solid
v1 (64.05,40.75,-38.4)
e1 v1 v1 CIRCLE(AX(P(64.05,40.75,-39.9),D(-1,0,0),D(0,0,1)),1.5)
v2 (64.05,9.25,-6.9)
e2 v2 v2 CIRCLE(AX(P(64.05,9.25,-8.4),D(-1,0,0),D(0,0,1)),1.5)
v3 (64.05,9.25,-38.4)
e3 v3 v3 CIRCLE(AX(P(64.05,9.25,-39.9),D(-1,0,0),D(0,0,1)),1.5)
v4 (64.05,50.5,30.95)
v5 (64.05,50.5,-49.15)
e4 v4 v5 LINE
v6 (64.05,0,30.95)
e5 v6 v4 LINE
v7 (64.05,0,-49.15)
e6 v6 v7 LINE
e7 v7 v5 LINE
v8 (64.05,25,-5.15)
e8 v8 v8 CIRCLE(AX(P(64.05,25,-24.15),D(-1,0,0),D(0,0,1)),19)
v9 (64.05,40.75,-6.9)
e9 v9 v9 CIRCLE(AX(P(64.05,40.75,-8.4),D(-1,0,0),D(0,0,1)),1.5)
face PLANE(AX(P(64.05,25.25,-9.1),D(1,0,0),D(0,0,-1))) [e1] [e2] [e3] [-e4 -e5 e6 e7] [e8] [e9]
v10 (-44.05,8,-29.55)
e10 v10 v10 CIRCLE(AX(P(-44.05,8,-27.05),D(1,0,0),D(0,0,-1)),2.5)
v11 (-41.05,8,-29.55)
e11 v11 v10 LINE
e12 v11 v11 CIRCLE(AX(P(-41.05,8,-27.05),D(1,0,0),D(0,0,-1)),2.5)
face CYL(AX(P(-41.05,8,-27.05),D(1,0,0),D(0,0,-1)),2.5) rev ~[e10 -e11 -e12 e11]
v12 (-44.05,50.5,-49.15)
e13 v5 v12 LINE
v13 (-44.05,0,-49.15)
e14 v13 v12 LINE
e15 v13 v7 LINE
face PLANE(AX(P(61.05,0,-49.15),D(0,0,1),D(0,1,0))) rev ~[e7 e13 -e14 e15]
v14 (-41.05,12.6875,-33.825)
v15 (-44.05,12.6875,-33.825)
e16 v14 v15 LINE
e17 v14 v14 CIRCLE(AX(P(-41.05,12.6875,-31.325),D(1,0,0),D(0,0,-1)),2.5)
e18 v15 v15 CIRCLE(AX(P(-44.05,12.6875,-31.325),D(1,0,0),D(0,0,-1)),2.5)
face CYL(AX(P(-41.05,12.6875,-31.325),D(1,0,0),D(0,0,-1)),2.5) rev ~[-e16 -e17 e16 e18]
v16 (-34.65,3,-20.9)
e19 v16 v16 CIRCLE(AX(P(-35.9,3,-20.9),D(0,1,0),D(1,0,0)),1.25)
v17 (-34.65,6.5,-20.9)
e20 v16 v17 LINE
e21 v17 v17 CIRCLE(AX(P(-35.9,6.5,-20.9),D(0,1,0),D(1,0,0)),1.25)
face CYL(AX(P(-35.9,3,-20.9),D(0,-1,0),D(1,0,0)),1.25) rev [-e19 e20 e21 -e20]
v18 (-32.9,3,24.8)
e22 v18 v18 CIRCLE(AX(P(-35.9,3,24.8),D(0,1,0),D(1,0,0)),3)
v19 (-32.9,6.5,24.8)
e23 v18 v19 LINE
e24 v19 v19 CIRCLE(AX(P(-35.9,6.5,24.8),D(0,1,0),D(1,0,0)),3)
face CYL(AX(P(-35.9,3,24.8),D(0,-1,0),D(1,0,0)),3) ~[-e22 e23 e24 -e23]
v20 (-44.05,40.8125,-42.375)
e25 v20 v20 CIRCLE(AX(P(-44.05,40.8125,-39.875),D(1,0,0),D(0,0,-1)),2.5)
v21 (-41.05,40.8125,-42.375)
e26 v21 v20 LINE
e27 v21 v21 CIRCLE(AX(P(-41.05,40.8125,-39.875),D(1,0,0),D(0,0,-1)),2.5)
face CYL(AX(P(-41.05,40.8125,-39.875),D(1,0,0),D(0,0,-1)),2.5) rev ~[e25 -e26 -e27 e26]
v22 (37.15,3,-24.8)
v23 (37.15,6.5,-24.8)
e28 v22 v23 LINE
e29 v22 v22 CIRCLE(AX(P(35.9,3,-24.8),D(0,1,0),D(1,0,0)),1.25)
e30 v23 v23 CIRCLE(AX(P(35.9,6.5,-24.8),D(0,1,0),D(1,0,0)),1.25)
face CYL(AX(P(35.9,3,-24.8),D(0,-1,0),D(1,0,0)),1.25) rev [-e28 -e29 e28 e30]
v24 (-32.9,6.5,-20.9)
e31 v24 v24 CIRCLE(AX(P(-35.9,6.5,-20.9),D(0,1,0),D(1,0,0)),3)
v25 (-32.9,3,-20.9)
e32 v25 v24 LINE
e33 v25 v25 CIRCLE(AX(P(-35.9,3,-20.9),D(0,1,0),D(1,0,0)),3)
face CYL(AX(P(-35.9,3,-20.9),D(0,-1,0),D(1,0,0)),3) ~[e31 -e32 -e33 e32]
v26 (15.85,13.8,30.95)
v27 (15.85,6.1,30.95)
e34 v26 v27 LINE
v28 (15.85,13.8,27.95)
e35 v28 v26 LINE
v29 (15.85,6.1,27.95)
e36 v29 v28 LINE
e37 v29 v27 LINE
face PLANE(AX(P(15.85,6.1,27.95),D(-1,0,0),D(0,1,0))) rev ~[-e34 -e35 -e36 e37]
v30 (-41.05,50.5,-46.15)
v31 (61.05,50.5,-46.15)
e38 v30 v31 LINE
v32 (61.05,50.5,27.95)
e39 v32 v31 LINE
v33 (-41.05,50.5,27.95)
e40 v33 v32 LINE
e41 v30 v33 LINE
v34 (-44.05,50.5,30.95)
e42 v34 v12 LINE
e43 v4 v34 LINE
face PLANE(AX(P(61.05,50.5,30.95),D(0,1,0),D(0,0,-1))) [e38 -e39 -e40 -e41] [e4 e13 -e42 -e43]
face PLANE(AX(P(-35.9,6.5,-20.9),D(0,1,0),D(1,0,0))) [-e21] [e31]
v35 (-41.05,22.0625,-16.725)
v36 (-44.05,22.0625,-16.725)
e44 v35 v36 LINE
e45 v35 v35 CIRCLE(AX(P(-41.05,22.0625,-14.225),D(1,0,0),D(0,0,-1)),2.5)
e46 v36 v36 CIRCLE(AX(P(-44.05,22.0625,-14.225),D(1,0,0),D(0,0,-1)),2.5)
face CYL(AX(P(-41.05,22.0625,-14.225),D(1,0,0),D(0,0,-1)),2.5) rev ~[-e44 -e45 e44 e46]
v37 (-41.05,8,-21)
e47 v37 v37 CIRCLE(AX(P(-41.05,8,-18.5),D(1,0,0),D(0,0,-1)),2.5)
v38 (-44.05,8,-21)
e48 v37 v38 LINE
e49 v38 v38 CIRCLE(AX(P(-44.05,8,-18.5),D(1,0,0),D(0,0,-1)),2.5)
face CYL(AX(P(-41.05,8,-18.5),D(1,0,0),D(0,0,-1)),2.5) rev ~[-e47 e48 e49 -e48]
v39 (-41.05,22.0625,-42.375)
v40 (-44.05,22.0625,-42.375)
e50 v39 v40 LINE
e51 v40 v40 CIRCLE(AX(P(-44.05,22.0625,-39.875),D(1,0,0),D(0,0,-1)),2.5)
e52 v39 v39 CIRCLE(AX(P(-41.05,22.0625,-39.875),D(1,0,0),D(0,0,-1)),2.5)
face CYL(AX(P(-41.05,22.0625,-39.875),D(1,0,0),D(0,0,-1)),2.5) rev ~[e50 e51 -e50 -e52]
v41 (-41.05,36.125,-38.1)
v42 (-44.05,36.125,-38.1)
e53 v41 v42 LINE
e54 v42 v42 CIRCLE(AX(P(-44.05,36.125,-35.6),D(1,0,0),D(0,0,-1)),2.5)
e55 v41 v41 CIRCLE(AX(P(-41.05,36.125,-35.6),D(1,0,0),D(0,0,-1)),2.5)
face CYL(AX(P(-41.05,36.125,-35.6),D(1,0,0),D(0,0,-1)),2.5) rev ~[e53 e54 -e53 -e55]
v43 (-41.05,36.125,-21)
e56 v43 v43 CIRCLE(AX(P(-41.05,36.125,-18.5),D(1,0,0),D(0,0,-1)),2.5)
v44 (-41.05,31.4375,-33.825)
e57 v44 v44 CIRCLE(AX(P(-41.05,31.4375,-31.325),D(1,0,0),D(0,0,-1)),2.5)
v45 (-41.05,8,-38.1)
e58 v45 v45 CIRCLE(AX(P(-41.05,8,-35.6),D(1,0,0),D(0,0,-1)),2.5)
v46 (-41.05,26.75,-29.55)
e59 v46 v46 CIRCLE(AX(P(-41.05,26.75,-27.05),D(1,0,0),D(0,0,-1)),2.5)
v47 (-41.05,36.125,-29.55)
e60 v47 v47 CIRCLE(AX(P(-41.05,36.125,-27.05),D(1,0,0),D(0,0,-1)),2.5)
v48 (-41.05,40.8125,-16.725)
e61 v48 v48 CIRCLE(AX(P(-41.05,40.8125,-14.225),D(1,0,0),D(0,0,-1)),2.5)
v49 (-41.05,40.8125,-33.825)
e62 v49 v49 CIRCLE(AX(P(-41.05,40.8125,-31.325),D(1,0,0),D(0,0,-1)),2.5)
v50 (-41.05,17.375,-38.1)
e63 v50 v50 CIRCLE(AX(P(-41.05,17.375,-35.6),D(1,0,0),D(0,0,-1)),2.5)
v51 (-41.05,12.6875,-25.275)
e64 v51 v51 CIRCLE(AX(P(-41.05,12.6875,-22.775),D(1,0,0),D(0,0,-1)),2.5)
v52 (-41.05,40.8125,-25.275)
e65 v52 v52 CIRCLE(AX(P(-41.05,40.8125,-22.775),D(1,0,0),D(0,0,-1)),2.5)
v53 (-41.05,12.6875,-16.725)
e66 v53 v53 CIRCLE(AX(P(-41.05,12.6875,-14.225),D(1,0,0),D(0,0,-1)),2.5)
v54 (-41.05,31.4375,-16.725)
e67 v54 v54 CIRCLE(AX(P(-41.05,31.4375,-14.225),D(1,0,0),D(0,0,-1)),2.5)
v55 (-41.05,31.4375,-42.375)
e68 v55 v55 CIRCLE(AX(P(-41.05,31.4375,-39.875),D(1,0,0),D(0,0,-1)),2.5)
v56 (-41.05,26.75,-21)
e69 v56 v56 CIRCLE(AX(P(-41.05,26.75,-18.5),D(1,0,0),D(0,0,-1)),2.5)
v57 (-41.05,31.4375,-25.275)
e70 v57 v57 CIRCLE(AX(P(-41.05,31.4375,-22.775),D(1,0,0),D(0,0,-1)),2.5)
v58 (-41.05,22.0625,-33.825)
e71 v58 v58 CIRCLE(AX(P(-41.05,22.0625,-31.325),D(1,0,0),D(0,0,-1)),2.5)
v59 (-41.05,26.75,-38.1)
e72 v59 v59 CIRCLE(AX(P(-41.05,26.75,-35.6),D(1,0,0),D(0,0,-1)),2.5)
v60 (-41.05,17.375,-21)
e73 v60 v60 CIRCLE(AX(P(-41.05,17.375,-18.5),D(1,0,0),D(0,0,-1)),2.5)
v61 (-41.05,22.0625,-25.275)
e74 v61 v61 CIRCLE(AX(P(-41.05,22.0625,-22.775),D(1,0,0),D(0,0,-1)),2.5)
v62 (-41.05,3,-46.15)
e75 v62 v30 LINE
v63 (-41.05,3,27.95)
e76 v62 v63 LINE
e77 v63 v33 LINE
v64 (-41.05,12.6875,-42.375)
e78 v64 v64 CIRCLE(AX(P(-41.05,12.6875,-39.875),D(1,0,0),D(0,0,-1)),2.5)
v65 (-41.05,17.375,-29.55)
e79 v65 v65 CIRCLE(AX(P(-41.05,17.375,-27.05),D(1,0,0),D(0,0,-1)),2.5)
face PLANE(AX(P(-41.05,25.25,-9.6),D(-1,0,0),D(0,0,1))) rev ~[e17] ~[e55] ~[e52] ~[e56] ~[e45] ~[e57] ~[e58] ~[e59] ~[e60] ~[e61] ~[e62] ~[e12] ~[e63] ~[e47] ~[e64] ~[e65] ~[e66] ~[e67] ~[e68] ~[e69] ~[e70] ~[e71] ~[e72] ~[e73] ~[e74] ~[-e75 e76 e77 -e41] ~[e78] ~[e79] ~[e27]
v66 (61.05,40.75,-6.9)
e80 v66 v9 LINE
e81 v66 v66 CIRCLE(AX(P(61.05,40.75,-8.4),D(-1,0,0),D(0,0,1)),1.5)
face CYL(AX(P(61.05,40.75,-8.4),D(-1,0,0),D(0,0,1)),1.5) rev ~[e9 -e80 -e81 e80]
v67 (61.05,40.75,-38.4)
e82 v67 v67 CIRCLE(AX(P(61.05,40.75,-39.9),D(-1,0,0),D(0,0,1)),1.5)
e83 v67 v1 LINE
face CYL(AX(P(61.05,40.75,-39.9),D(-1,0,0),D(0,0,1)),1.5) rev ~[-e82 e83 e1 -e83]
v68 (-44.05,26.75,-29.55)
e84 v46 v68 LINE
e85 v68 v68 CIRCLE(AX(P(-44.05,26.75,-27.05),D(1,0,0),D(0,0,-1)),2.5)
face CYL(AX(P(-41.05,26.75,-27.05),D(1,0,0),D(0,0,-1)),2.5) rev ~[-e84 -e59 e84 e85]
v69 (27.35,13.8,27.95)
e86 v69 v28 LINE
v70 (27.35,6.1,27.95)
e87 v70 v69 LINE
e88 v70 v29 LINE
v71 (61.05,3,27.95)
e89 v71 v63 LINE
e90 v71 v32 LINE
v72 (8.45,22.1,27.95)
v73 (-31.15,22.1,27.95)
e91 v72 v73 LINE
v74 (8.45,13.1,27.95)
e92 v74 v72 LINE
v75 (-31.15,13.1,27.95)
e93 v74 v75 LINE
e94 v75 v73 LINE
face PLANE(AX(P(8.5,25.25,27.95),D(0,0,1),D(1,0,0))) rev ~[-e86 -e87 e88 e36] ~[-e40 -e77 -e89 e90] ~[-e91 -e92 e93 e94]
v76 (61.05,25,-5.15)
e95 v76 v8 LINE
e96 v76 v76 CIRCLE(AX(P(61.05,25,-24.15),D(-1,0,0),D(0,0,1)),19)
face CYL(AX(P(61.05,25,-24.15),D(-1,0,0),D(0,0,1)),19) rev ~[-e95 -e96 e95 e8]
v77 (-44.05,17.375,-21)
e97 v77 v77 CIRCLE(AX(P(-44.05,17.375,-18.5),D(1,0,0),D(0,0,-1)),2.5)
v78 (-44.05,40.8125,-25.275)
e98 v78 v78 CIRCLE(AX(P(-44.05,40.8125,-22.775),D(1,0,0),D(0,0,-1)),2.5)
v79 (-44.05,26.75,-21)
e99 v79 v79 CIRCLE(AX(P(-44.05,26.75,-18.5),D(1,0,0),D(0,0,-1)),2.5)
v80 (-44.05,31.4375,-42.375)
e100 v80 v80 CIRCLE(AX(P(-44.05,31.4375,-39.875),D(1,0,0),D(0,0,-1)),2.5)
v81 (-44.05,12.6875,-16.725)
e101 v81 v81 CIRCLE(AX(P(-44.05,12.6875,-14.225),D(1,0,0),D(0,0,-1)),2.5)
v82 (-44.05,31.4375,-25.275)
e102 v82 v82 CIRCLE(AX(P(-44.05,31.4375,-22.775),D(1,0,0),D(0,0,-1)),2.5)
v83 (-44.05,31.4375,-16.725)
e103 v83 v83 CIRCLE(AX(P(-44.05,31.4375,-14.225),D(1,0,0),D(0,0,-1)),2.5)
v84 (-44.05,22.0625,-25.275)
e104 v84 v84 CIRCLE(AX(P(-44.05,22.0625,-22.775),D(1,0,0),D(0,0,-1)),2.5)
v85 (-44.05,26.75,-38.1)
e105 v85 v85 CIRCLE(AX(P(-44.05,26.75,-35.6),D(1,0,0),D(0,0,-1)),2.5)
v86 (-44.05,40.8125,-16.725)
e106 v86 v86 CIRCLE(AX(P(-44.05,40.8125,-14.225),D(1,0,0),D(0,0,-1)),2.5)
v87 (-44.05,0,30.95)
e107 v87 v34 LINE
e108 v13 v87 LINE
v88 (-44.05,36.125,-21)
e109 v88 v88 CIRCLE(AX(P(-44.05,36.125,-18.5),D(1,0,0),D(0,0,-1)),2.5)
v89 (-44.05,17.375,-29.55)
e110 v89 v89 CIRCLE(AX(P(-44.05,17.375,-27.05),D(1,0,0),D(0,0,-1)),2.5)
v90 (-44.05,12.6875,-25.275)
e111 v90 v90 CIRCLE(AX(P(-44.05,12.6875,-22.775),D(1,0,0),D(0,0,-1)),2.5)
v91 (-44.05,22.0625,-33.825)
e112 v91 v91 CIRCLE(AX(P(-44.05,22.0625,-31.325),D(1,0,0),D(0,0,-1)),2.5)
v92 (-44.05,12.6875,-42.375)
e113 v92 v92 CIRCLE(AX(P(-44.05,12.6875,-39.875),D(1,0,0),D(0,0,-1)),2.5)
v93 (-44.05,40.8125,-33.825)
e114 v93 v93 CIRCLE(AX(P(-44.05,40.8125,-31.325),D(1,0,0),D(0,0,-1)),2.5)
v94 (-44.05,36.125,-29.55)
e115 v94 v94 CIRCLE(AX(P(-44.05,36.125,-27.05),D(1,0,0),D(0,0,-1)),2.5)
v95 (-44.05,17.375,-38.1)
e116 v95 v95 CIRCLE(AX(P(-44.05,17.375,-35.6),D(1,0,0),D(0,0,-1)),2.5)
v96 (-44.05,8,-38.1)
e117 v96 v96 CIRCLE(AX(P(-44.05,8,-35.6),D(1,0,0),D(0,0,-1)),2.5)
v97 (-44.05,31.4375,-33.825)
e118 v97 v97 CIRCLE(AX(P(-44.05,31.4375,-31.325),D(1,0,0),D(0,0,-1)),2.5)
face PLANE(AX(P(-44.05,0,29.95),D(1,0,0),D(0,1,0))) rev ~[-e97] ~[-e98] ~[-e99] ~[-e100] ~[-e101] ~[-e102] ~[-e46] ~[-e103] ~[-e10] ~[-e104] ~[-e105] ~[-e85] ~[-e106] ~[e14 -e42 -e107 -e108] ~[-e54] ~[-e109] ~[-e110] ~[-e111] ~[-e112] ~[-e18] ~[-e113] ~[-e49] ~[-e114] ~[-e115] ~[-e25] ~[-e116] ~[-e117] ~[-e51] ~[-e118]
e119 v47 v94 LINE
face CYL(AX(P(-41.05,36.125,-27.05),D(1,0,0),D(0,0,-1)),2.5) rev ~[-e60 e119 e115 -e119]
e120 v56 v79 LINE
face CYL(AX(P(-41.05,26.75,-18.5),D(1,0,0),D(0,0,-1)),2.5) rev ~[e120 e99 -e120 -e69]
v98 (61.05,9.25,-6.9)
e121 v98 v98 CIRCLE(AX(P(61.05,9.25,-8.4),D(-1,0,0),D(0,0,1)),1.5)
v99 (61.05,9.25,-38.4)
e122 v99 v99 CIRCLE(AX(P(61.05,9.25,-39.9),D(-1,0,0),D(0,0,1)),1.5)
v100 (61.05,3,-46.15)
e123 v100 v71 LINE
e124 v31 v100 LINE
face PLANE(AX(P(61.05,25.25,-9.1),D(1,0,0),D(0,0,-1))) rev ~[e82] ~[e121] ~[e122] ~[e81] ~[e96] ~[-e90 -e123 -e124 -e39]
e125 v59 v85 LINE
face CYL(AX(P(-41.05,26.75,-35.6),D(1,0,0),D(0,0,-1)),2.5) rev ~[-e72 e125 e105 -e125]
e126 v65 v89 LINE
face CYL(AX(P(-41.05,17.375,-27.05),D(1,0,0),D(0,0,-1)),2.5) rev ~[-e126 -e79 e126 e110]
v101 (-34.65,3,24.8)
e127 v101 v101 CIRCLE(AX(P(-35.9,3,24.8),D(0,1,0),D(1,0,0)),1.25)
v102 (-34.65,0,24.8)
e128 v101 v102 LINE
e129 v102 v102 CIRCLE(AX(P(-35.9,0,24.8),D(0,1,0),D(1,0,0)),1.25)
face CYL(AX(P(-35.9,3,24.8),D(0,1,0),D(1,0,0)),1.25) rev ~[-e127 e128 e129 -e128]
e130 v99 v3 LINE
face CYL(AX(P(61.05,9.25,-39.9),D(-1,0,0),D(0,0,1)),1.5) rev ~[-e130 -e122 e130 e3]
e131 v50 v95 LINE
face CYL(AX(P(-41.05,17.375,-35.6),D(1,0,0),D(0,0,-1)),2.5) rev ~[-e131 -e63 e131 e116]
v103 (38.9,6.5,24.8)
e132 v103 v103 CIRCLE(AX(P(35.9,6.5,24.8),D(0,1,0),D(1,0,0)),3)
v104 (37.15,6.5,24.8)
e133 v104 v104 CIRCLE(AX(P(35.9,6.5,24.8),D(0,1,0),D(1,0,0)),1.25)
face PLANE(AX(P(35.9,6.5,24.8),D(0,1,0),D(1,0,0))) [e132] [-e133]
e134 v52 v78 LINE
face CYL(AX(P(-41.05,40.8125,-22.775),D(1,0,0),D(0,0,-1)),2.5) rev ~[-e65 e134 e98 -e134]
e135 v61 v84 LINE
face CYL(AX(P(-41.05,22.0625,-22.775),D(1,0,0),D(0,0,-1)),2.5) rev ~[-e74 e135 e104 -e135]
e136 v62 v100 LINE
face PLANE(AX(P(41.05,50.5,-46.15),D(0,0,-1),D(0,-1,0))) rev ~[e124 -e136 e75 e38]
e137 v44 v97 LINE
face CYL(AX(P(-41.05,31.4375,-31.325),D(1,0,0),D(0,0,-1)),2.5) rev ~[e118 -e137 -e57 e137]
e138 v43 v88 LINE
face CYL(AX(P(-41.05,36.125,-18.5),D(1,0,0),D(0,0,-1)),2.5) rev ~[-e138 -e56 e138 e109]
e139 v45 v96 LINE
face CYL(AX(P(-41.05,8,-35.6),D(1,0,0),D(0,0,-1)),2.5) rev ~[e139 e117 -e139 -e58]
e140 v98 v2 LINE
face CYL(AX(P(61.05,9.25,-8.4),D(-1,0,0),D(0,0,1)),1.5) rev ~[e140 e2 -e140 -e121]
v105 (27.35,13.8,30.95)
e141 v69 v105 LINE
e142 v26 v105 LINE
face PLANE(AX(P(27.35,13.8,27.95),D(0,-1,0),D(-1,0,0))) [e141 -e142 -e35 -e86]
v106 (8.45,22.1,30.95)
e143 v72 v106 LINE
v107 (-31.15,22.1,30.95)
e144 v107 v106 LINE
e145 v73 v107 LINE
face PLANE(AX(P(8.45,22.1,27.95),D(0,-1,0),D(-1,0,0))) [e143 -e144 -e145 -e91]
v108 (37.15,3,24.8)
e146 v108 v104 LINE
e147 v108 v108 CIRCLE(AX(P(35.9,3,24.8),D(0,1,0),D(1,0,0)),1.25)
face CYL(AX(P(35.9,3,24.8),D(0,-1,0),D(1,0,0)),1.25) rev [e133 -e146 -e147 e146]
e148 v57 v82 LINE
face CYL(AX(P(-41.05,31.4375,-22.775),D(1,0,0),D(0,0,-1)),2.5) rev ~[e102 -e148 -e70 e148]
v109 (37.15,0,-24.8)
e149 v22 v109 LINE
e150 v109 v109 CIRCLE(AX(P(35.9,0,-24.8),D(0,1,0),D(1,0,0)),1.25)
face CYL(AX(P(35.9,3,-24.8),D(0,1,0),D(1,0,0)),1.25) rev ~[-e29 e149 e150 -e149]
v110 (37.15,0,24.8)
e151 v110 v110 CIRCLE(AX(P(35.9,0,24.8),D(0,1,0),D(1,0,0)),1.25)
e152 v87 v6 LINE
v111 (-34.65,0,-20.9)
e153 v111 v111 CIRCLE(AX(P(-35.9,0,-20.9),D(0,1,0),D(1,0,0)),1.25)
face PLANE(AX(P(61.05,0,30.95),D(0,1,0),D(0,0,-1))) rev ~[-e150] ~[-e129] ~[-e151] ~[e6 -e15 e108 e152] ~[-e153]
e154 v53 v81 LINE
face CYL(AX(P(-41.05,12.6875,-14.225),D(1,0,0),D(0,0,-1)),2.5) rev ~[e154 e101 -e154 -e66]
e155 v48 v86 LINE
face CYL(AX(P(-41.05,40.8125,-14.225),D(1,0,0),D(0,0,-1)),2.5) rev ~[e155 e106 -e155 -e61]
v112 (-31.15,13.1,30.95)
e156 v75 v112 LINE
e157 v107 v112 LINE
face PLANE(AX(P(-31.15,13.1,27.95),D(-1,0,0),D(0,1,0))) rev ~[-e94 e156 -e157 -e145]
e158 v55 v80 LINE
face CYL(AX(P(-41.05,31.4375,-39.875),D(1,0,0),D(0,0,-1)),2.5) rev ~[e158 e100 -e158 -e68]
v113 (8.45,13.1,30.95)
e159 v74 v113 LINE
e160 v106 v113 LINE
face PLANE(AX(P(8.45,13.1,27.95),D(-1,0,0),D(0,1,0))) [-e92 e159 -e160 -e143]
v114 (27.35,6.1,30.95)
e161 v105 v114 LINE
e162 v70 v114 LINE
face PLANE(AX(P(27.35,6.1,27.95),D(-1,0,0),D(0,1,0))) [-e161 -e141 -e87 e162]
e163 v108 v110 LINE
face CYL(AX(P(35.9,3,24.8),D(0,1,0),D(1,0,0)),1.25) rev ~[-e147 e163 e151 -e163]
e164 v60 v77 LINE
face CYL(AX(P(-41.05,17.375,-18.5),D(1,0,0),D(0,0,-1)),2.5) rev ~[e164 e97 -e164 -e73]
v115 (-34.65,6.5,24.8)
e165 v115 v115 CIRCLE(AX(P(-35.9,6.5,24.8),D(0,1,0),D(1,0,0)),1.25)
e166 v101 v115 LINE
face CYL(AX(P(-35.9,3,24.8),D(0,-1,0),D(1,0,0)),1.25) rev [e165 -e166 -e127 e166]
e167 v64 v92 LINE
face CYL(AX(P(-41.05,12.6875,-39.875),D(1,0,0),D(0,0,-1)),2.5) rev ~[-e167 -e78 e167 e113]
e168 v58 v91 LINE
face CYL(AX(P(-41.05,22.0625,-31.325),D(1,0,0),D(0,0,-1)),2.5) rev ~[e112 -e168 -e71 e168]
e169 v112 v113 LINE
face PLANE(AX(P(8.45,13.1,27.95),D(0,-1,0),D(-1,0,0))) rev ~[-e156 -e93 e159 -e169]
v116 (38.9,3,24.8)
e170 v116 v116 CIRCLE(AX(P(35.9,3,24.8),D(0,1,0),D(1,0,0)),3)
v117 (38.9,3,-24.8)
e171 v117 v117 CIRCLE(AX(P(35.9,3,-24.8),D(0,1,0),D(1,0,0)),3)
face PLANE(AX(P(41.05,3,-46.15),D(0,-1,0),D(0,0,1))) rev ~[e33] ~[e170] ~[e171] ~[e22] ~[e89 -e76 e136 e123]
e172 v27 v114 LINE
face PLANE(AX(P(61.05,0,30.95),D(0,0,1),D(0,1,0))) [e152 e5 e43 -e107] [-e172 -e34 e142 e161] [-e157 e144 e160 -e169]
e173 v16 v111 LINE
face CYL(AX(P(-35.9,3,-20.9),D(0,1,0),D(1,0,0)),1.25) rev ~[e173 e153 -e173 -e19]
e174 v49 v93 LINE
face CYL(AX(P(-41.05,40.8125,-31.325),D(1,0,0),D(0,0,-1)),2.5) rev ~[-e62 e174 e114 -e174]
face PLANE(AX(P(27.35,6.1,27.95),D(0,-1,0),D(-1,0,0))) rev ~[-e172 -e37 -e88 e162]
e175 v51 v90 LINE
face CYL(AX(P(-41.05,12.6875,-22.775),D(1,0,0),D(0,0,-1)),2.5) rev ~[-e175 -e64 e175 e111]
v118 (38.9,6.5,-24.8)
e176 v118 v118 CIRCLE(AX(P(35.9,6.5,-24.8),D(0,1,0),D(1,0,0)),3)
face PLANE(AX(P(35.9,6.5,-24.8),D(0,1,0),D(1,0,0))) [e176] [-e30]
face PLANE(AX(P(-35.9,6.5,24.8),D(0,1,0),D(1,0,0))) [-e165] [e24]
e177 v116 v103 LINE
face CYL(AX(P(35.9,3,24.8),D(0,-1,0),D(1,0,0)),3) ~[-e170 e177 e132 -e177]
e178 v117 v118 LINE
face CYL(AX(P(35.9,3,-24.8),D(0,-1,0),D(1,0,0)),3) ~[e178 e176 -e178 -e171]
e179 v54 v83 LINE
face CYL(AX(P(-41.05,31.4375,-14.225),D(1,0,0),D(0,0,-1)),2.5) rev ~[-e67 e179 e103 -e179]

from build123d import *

# Parameters (mm, degrees)
SKETCH1_W                 = 78.1
SKETCH1_H                 = 55.9
BOSS_EXTRUDE1_DEPTH       = 3
SKETCH2_R                 = 1.25
CUT_EXTRUDE1_DEPTH        = 68
SKETCH4_W                 = 82.1
SKETCH4_H                 = 59.9
SKETCH4_W_2               = 78.1
SKETCH4_H_2               = 55.9
BOSS_EXTRUDE3_DEPTH       = 3
SKETCH6_R                 = 3
SKETCH6_R_2               = 1.25
BOSS_EXTRUDE4_DEPTH       = 3.5
SKETCH7_W                 = 82.1
SKETCH7_H                 = 16.2
BOSS_EXTRUDE5_DEPTH       = 3
SKETCH8_W                 = 82.1
SKETCH8_H                 = 50.5
BOSS_EXTRUDE6_DEPTH       = 3
BOSS_EXTRUDE7_DEPTH       = 20
SKETCH12_W                = 79.1
SKETCH12_H                = 50.5
BOSS_EXTRUDE8_DEPTH       = 3
SKETCH17_W                = 105.1
SKETCH17_H                = 50.5
BOSS_EXTRUDE13_DEPTH      = 1
BOSS_EXTRUDE13_DEPTH_BACK = 2
SKETCH18_W                = 11.5
SKETCH18_H                = 7.7
SKETCH18_W_2              = 39.6
SKETCH18_H_2              = 9
CUT_EXTRUDE4_DEPTH        = 9
SKETCH19_W                = 80.1
SKETCH19_H                = 50.5
BOSS_EXTRUDE14_DEPTH      = 3
SKETCH20_R                = 19
SKETCH20_R_2              = 1.5
CUT_EXTRUDE5_DEPTH        = 3
SKETCH22_R                = 2.5
CUT_EXTRUDE6_DEPTH        = 3


with BuildPart() as part:
    # Sketch1 → Boss-Extrude1 (new body)
    with BuildSketch(Plane(origin=(0, 0, 0), x_dir=(1, 0, 0), z_dir=(0, 1, 0))):
        Rectangle(SKETCH1_W, SKETCH1_H)
    extrude(amount=BOSS_EXTRUDE1_DEPTH)

    # Sketch2 → Cut-Extrude1 (cut)
    with BuildSketch(Plane(origin=(0, 3, 0), x_dir=(1, 0, 0), z_dir=(0, 1, 0))):
        with Locations((-35.9, 20.9)):
            Circle(SKETCH2_R)
        with Locations((-35.9, -24.8)):
            Circle(SKETCH2_R)
        with Locations((35.9, -24.8)):
            Circle(SKETCH2_R)
        with Locations((35.9, 24.8)):
            Circle(SKETCH2_R)
    extrude(amount=-CUT_EXTRUDE1_DEPTH, mode=Mode.SUBTRACT)

    # Sketch4 → Boss-Extrude3 (add)
    with BuildSketch(Plane(origin=(0, 0, 0), x_dir=(-1, 0, 0), z_dir=(0, -1, 0))):
        Rectangle(SKETCH4_W, SKETCH4_H)
        Rectangle(SKETCH4_W_2, SKETCH4_H_2, mode=Mode.SUBTRACT)
    extrude(amount=-BOSS_EXTRUDE3_DEPTH)

    # Sketch6 → Boss-Extrude4 (add)
    with BuildSketch(Plane(origin=(0, 3, 0), x_dir=(1, 0, 0), z_dir=(0, 1, 0))):
        with Locations((-35.9, 20.9)):
            Circle(SKETCH6_R)
        with Locations((-35.9, 20.9)):
            Circle(SKETCH6_R_2, mode=Mode.SUBTRACT)
        with Locations((35.9, 24.8)):
            Circle(SKETCH6_R)
        with Locations((35.9, 24.8)):
            Circle(SKETCH6_R_2, mode=Mode.SUBTRACT)
        with Locations((35.9, -24.8)):
            Circle(SKETCH6_R)
        with Locations((35.9, -24.8)):
            Circle(SKETCH6_R_2, mode=Mode.SUBTRACT)
        with Locations((-35.9, -24.8)):
            Circle(SKETCH6_R)
        with Locations((-35.9, -24.8)):
            Circle(SKETCH6_R_2, mode=Mode.SUBTRACT)
    extrude(amount=BOSS_EXTRUDE4_DEPTH)

    # Sketch7 → Boss-Extrude5 (add)
    with BuildSketch(Plane(origin=(0, 0, 0), x_dir=(-1, 0, 0), z_dir=(0, -1, 0))):
        with Locations((0, 38.05)):
            Rectangle(SKETCH7_W, SKETCH7_H)
    extrude(amount=-BOSS_EXTRUDE5_DEPTH)

    # Sketch8 → Boss-Extrude6 (add)
    with BuildSketch(Plane(origin=(0, 0, -46.15), x_dir=(-1, 0, 0), z_dir=(0, 0, -1))):
        with Locations((0, 25.25)):
            Rectangle(SKETCH8_W, SKETCH8_H)
    extrude(amount=BOSS_EXTRUDE6_DEPTH)

    # Sketch10 → Boss-Extrude7 (add)
    with BuildSketch(Plane(origin=(41.05, 0, 0), x_dir=(0, 0, -1), z_dir=(1, 0, 0))):
        Polygon((49.15, 50.5), (46.15, 50.5), (46.15, 3), (-29.95, 3), (-29.95, 0), (49.15, 0), align=None)
    extrude(amount=BOSS_EXTRUDE7_DEPTH)

    # Sketch12 → Boss-Extrude8 (add)
    with BuildSketch(Plane.ZY.offset(41.05)):
        with Locations((-9.6, 25.25)):
            Rectangle(SKETCH12_W, SKETCH12_H)
    extrude(amount=BOSS_EXTRUDE8_DEPTH)

    # Sketch17 → Boss-Extrude13 (add, two sides)
    with BuildSketch(Plane.XY.offset(29.95)) as boss_extrude13_sk:
        with Locations((8.5, 25.25)):
            Rectangle(SKETCH17_W, SKETCH17_H)
    extrude(amount=BOSS_EXTRUDE13_DEPTH)
    extrude(boss_extrude13_sk.sketch, amount=-BOSS_EXTRUDE13_DEPTH_BACK)

    # Sketch18 → Cut-Extrude4 (cut)
    with BuildSketch(Plane(origin=(0, 0, 27.95), x_dir=(-1, 0, 0), z_dir=(0, 0, -1))):
        with Locations((-21.6, 9.95)):
            Rectangle(SKETCH18_W, SKETCH18_H)
        with Locations((11.35, 17.6)):
            Rectangle(SKETCH18_W_2, SKETCH18_H_2)
    extrude(amount=-CUT_EXTRUDE4_DEPTH, mode=Mode.SUBTRACT)

    # Sketch19 → Boss-Extrude14 (add)
    with BuildSketch(Plane(origin=(61.05, 0, 0), x_dir=(0, 0, -1), z_dir=(1, 0, 0))):
        with Locations((9.1, 25.25)):
            Rectangle(SKETCH19_W, SKETCH19_H)
    extrude(amount=BOSS_EXTRUDE14_DEPTH)

    # Sketch20 → Cut-Extrude5 (cut)
    with BuildSketch(Plane.ZY.offset(-61.05)):
        with Locations((-24.15, 25)):
            Circle(SKETCH20_R)
        with Locations((-8.4, 40.75)):
            Circle(SKETCH20_R_2)
        with Locations((-39.9, 40.75)):
            Circle(SKETCH20_R_2)
        with Locations((-8.4, 9.25)):
            Circle(SKETCH20_R_2)
        with Locations((-39.9, 9.25)):
            Circle(SKETCH20_R_2)
    extrude(amount=-CUT_EXTRUDE5_DEPTH, mode=Mode.SUBTRACT)

    # Sketch22 → Cut-Extrude6 (cut)
    with BuildSketch(Plane(origin=(-41.05, 0, 0), x_dir=(0, 0, -1), z_dir=(1, 0, 0))):
        with Locations((14.225, 12.6875)):
            Circle(SKETCH22_R)
        with Locations((14.225, 22.0625)):
            Circle(SKETCH22_R)
        with Locations((18.5, 17.375)):
            Circle(SKETCH22_R)
        with Locations((22.775, 22.0625)):
            Circle(SKETCH22_R)
        with Locations((22.775, 12.6875)):
            Circle(SKETCH22_R)
        with Locations((14.225, 31.4375)):
            Circle(SKETCH22_R)
        with Locations((18.5, 26.75)):
            Circle(SKETCH22_R)
        with Locations((22.775, 31.4375)):
            Circle(SKETCH22_R)
        with Locations((18.5, 36.125)):
            Circle(SKETCH22_R)
        with Locations((14.225, 40.8125)):
            Circle(SKETCH22_R)
        with Locations((22.775, 40.8125)):
            Circle(SKETCH22_R)
        with Locations((27.05, 36.125)):
            Circle(SKETCH22_R)
        with Locations((31.325, 40.8125)):
            Circle(SKETCH22_R)
        with Locations((39.875, 40.8125)):
            Circle(SKETCH22_R)
        with Locations((35.6, 36.125)):
            Circle(SKETCH22_R)
        with Locations((39.875, 31.4375)):
            Circle(SKETCH22_R)
        with Locations((31.325, 31.4375)):
            Circle(SKETCH22_R)
        with Locations((27.05, 26.75)):
            Circle(SKETCH22_R)
        with Locations((31.325, 22.0625)):
            Circle(SKETCH22_R)
        with Locations((39.875, 22.0625)):
            Circle(SKETCH22_R)
        with Locations((35.6, 26.75)):
            Circle(SKETCH22_R)
        with Locations((27.05, 17.375)):
            Circle(SKETCH22_R)
        with Locations((31.325, 12.6875)):
            Circle(SKETCH22_R)
        with Locations((39.875, 12.6875)):
            Circle(SKETCH22_R)
        with Locations((35.6, 17.375)):
            Circle(SKETCH22_R)
        with Locations((18.5, 8)):
            Circle(SKETCH22_R)
        with Locations((27.05, 8)):
            Circle(SKETCH22_R)
        with Locations((35.6, 8)):
            Circle(SKETCH22_R)
    extrude(amount=-CUT_EXTRUDE6_DEPTH, mode=Mode.SUBTRACT)


solid = part.part
